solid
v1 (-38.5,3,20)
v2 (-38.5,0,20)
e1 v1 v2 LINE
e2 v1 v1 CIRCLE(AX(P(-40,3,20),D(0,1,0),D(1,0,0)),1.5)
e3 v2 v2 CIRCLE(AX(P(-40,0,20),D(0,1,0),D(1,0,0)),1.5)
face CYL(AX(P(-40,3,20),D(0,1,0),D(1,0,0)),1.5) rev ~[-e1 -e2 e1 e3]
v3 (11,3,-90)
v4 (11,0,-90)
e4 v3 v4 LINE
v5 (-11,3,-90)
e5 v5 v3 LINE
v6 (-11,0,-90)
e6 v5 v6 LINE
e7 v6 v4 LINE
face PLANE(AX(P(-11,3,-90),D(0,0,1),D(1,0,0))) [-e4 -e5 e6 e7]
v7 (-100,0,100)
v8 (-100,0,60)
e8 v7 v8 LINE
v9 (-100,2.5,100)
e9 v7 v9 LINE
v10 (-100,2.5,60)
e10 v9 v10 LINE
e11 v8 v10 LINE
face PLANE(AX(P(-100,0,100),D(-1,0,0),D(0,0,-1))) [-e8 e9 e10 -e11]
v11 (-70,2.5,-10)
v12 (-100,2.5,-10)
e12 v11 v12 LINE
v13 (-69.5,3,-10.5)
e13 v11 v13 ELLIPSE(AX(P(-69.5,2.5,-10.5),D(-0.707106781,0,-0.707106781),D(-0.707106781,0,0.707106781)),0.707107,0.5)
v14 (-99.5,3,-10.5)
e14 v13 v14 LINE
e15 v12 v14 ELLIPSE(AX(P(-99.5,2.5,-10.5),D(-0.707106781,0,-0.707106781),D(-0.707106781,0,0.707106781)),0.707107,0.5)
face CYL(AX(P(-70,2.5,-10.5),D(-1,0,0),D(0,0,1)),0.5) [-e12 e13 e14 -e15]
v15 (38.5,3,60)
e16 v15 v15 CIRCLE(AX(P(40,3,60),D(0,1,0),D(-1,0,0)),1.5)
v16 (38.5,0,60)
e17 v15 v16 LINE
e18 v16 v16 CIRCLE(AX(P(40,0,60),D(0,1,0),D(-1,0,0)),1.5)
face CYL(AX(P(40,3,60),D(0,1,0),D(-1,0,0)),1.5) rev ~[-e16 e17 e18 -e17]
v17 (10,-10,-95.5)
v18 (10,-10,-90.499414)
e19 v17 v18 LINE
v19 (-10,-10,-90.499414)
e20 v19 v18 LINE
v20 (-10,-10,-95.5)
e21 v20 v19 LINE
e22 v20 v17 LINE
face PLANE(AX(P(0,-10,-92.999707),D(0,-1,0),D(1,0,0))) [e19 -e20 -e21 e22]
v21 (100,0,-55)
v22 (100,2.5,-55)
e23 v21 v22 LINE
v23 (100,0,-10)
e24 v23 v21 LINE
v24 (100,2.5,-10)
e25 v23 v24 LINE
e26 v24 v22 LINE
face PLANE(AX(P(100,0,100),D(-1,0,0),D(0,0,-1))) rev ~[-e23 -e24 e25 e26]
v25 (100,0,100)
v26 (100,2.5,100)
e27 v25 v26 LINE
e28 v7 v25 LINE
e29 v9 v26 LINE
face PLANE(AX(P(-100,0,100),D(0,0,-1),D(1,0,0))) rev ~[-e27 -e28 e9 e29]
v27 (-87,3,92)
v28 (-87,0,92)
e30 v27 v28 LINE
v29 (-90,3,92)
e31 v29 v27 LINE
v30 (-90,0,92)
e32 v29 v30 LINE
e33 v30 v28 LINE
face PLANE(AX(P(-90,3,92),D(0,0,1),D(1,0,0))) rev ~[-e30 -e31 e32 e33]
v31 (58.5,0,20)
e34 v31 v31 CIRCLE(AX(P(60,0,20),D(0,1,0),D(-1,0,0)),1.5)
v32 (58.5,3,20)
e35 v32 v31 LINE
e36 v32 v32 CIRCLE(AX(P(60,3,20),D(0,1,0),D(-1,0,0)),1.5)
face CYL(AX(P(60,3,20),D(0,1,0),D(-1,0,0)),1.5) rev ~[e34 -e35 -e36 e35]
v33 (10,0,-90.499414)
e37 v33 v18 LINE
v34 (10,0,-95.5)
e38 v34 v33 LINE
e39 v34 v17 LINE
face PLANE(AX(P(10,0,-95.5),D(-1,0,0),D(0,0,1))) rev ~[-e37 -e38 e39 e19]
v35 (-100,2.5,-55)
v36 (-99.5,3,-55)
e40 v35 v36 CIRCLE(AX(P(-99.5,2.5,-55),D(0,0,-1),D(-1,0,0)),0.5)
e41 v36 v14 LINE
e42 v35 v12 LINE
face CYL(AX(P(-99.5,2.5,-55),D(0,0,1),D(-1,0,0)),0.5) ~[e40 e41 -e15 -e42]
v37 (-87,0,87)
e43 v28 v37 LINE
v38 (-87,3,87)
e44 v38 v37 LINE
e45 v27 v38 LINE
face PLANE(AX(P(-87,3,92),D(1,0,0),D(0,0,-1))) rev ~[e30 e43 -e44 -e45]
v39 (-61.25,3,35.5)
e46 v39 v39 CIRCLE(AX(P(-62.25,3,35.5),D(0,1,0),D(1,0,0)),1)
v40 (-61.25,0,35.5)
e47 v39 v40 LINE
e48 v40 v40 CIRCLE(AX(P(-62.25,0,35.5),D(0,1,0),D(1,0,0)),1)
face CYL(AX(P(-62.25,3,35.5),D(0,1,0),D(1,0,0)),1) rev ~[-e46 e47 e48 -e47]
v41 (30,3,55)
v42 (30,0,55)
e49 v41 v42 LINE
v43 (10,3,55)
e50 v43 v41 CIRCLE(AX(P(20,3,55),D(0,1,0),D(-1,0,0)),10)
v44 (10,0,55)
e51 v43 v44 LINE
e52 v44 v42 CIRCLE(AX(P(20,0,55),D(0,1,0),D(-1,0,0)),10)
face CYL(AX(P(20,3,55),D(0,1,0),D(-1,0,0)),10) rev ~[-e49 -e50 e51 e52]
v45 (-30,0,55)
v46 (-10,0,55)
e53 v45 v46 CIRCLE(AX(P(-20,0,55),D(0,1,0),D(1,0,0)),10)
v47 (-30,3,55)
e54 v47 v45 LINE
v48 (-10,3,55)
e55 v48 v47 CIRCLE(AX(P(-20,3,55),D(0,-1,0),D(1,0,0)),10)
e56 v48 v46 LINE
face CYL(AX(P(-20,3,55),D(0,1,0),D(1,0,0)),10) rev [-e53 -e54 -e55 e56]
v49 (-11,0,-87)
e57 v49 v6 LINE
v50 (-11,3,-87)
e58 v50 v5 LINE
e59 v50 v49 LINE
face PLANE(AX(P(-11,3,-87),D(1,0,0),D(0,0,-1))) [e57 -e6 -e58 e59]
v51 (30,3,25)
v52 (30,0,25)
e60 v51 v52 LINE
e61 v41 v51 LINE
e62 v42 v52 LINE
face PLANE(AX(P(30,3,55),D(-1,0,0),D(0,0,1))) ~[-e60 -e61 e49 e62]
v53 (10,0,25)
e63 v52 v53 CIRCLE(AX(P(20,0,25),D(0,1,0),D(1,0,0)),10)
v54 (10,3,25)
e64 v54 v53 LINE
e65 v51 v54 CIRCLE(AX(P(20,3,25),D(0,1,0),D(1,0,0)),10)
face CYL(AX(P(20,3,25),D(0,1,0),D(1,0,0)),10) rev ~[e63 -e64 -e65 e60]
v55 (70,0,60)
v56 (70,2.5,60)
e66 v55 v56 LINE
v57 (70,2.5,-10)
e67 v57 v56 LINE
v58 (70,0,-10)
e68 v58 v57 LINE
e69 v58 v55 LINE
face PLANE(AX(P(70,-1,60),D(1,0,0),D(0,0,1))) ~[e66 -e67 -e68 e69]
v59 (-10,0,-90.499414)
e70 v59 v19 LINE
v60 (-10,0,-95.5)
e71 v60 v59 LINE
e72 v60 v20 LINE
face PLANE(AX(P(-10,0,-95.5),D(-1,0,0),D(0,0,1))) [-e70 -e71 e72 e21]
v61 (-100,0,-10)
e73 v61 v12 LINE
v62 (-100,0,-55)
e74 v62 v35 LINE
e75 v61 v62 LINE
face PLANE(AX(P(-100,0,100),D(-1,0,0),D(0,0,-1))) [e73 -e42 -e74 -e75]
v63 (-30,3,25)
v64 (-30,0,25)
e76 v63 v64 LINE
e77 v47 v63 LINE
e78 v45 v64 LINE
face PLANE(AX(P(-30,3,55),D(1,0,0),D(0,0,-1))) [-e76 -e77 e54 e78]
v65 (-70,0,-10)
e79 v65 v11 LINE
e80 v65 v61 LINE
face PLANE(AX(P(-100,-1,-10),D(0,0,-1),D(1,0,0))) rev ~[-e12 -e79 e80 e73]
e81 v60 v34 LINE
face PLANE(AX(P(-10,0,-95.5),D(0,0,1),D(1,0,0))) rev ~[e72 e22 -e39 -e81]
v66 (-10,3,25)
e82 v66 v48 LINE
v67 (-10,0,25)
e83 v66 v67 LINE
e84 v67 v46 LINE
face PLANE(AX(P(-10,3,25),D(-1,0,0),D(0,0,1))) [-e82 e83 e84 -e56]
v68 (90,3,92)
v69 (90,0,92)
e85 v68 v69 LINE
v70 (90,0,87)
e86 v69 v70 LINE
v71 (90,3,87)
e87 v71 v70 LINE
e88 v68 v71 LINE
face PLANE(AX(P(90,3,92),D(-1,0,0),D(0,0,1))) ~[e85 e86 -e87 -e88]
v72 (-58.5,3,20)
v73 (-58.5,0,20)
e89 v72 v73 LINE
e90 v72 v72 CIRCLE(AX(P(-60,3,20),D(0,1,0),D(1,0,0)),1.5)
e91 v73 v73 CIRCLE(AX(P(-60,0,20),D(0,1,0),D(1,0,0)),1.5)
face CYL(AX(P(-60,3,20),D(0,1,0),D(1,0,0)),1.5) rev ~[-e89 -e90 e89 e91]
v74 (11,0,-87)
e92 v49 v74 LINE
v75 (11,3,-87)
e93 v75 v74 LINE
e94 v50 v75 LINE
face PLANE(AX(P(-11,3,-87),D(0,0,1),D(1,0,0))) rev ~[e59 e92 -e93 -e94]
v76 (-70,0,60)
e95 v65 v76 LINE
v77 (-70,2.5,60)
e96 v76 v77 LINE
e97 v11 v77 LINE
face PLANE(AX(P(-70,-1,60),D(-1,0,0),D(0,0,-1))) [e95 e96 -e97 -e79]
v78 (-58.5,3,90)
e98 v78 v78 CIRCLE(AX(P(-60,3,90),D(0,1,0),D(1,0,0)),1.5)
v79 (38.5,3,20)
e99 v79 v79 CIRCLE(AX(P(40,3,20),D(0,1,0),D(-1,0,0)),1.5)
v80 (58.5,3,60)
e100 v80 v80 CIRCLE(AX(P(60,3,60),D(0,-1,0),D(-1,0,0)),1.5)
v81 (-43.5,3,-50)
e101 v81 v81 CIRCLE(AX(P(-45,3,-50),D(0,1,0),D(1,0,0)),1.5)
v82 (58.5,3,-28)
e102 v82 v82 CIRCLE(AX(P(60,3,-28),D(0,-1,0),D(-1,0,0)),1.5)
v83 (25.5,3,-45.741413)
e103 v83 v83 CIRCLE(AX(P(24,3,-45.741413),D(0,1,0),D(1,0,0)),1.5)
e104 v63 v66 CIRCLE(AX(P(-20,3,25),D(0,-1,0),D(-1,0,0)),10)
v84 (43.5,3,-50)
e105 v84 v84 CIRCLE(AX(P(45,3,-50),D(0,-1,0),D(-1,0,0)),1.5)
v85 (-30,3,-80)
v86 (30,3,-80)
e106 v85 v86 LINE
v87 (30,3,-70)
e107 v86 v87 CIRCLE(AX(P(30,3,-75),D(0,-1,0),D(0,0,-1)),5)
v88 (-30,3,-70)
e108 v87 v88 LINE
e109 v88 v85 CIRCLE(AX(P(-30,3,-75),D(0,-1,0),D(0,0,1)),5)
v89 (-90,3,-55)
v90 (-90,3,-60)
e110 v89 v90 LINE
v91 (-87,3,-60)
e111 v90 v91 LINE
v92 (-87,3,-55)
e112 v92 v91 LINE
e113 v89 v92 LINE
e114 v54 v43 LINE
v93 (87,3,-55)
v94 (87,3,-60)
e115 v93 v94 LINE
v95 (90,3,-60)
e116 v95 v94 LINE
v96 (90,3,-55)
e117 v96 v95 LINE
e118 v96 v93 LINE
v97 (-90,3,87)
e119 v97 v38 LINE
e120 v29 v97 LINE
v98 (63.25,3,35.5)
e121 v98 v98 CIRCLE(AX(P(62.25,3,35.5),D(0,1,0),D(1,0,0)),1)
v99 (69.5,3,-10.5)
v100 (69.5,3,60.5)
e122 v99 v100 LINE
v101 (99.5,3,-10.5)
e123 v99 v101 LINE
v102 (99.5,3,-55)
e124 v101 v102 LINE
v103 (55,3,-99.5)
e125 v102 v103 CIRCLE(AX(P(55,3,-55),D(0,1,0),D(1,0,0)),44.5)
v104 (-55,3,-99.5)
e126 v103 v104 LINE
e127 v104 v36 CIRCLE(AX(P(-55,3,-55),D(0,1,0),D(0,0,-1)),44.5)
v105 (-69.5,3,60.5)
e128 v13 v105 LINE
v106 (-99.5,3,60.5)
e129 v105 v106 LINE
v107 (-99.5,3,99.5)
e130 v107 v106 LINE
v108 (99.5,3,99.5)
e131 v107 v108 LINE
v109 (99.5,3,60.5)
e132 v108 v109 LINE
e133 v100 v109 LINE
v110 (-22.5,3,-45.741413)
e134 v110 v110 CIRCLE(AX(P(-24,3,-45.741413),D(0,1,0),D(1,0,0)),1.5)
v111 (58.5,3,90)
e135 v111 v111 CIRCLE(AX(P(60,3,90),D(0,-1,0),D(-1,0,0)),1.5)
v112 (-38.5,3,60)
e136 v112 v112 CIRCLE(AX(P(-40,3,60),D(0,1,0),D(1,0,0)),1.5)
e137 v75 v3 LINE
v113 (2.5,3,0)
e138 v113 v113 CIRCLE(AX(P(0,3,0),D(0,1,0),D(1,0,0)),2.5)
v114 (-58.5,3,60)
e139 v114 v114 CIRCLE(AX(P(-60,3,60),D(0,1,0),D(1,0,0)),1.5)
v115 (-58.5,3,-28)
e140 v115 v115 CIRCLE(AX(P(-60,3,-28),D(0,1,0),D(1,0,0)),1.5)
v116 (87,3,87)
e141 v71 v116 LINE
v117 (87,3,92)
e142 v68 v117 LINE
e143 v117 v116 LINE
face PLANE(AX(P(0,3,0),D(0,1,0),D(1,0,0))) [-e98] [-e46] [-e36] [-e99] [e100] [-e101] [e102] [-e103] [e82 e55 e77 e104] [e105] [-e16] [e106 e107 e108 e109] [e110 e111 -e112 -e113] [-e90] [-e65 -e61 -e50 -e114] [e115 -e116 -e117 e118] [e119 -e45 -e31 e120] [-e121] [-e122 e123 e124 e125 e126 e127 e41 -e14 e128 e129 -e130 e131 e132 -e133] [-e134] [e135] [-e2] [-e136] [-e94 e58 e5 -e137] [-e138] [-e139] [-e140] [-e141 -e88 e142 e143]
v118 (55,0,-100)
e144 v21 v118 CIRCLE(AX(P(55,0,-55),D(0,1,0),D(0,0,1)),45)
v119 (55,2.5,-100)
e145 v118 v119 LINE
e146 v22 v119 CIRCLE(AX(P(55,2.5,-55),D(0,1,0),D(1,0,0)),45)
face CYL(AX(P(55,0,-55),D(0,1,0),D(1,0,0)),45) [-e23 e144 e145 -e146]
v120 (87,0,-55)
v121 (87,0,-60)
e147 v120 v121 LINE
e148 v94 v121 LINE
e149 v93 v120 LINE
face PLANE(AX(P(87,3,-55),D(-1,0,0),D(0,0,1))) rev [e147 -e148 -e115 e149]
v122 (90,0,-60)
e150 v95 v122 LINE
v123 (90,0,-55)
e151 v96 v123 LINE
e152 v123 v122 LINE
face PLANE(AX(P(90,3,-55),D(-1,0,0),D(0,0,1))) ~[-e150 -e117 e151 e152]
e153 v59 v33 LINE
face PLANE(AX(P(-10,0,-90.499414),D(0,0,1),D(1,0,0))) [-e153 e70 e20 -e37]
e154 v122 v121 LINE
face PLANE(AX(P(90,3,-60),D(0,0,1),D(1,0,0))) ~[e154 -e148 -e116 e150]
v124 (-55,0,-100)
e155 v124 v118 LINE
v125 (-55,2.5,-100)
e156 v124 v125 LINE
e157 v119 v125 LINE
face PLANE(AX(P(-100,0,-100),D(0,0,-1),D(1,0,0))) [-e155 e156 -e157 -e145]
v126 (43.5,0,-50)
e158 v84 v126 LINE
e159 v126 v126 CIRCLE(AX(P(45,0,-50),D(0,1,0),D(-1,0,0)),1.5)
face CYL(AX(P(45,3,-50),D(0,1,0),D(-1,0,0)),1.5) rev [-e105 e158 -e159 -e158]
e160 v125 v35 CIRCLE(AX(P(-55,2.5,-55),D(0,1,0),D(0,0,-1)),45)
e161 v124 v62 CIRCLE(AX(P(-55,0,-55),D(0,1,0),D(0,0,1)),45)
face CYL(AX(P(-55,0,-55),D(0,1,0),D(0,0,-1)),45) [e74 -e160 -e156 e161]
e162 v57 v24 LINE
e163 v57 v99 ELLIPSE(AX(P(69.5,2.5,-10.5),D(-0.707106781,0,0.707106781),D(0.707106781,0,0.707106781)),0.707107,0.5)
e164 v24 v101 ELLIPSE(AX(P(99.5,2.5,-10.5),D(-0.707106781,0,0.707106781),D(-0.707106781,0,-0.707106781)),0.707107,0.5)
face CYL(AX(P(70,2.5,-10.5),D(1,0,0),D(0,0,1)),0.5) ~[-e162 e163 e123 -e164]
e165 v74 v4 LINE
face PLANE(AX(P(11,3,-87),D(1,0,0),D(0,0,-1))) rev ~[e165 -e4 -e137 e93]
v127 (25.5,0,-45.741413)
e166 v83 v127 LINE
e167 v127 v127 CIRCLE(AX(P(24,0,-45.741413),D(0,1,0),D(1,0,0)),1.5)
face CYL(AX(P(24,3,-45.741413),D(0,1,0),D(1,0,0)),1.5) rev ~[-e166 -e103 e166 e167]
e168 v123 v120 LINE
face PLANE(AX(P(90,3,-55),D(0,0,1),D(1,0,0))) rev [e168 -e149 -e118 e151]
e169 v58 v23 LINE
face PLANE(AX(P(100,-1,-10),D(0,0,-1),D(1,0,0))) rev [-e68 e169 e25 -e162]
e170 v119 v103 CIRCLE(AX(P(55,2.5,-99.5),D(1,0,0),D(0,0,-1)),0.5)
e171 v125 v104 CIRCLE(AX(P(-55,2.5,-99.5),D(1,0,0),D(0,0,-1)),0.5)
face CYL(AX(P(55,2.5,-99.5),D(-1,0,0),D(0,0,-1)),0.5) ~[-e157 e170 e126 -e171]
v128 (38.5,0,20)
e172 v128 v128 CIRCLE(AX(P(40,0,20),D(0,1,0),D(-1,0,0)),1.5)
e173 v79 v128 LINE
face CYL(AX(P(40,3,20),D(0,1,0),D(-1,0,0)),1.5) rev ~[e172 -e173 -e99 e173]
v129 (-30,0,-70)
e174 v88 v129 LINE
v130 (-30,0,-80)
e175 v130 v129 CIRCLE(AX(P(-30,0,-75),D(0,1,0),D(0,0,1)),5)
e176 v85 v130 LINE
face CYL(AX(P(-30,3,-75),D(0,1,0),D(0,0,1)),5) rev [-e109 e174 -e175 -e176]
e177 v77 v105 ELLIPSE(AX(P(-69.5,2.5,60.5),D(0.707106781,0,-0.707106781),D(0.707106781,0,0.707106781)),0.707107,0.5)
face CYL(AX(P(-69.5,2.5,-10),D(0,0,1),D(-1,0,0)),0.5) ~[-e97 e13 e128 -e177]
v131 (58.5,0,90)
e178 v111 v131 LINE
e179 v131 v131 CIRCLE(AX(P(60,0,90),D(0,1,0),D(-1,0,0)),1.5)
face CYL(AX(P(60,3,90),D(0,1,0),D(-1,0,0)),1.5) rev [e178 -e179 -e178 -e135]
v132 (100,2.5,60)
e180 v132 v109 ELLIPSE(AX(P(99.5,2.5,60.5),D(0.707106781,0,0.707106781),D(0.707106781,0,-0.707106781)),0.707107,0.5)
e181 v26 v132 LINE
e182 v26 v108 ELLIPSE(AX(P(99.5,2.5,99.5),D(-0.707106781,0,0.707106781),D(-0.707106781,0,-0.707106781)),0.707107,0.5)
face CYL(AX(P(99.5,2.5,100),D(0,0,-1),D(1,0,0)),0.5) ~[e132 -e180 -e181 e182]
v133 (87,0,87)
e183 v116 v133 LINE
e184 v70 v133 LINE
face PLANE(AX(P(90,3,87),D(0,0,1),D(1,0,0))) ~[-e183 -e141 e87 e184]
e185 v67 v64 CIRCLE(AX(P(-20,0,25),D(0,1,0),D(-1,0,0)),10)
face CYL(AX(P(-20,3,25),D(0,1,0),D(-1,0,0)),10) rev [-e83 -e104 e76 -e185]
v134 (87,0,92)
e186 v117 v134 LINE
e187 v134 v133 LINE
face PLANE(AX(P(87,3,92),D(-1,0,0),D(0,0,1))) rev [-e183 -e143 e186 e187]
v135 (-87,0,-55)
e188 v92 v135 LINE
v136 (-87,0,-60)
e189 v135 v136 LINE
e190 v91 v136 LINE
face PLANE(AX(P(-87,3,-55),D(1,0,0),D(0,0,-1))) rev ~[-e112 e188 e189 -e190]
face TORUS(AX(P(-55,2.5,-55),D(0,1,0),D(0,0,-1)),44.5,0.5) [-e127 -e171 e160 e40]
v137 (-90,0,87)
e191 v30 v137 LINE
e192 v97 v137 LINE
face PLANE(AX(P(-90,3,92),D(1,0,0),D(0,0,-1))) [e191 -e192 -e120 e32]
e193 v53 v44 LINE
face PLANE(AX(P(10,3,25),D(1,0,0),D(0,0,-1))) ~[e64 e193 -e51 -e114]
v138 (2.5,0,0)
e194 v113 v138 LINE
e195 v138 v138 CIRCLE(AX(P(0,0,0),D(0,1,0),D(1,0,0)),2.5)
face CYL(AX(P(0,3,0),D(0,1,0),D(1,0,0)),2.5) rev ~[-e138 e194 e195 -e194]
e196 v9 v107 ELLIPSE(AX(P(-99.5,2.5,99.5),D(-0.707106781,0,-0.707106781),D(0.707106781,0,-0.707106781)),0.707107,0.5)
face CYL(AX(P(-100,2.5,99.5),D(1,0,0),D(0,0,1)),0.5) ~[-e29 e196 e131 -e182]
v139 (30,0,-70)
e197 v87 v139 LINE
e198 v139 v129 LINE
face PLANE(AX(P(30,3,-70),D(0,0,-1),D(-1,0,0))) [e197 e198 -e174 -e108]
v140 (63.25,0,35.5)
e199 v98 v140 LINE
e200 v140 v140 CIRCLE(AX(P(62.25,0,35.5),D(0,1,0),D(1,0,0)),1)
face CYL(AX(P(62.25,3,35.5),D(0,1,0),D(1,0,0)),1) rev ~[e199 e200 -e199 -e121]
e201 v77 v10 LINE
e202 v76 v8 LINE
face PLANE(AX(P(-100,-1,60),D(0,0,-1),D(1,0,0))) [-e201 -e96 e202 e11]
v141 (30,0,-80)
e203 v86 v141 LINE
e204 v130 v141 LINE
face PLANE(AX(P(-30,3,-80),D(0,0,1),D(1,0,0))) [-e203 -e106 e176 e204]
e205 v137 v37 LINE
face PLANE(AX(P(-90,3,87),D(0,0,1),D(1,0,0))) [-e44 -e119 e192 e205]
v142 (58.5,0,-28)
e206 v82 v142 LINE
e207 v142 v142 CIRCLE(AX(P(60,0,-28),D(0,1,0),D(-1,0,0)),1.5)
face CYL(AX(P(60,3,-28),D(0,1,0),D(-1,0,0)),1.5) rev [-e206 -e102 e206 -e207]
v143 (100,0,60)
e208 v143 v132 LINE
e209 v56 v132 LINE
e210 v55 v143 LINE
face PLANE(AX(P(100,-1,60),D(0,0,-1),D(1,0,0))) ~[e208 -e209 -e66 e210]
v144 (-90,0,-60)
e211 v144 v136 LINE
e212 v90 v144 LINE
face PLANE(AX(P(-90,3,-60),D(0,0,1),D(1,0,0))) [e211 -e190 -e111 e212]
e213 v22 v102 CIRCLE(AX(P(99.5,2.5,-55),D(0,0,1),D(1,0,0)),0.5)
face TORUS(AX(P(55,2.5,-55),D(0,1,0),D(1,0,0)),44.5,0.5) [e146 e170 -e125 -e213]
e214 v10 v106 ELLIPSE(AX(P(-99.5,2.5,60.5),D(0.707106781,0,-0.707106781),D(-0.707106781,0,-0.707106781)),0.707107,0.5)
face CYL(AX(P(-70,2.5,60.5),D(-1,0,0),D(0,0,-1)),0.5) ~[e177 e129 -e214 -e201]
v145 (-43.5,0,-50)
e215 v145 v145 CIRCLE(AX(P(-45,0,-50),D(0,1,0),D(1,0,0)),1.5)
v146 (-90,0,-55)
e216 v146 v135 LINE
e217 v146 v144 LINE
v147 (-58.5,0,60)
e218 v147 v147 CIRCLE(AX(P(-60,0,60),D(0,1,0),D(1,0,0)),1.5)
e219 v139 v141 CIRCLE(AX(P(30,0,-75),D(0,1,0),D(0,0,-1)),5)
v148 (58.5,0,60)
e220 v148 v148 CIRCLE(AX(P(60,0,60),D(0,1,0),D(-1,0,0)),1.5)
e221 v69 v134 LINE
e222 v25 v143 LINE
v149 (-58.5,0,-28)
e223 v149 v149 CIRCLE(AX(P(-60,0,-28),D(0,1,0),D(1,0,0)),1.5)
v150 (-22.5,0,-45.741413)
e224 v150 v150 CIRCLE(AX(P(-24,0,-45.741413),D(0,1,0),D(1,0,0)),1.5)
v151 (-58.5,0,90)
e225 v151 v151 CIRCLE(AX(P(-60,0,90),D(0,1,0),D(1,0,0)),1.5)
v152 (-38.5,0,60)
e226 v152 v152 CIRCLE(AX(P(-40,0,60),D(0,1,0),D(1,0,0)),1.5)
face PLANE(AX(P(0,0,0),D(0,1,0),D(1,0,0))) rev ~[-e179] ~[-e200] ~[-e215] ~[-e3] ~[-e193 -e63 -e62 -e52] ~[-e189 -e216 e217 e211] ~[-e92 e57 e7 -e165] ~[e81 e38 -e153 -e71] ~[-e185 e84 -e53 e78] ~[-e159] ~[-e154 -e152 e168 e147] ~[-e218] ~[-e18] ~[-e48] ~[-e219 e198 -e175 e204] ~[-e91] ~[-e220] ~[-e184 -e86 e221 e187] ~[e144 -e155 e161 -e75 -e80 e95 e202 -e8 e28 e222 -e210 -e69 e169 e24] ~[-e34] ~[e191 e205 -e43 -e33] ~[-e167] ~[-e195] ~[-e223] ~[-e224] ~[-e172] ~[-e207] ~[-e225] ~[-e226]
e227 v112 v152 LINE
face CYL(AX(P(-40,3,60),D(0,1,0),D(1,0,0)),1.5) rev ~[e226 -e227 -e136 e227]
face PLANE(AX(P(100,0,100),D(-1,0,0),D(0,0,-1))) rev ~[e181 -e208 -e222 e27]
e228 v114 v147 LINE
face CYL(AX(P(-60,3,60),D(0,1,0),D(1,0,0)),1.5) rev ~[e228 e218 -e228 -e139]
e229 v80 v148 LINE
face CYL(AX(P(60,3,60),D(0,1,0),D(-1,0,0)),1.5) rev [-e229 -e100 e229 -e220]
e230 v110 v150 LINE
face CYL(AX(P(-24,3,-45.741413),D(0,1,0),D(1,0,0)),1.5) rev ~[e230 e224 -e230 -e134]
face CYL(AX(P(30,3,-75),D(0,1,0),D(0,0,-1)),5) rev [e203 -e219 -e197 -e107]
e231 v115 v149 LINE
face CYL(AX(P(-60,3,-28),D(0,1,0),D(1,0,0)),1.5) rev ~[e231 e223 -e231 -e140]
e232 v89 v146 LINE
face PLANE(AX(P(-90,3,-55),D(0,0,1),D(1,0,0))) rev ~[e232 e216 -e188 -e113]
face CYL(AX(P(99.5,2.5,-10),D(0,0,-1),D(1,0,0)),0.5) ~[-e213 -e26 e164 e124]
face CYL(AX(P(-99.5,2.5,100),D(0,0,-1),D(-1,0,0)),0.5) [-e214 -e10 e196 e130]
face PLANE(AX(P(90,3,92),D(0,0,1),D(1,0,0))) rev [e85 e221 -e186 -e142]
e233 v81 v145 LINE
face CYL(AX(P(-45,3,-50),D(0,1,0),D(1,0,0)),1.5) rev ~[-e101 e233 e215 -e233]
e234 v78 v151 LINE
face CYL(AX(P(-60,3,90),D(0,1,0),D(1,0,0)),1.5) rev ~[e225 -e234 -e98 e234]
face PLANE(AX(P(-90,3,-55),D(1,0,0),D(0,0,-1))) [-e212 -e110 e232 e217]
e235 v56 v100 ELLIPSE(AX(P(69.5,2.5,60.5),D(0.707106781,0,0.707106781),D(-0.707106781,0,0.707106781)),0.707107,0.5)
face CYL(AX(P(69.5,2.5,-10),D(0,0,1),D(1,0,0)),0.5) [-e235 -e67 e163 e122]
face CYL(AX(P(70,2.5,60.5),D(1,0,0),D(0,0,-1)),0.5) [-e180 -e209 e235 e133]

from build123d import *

# Parameters (mm, degrees)
SKETCH1_W               = 200
SKETCH1_H               = 200
BOSS_EXTRUDE1_DEPTH     = 3
CUT_EXTRUDE1_START      = -4
SKETCH2_W               = 30
SKETCH2_H               = 70
CUT_EXTRUDE1_DEPTH      = 14
SKETCH4_W               = 3
SKETCH4_H               = 5
CUT_EXTRUDE2_DEPTH      = 4
SKETCH5_W               = 3
SKETCH5_H               = 5
CUT_EXTRUDE3_DEPTH      = 4
CUT_EXTRUDE4_DEPTH      = 4
FILLET1_R               = 45
SKETCH9_R               = 1.5
SKETCH9_W               = 22
SKETCH9_H               = 3
CUT_EXTRUDE7_DEPTH      = 4
SKETCH11_R              = 1.5
CUT_EXTRUDE8_DEPTH      = 4
SKETCH10_R              = 1.5
CUT_EXTRUDE9_DEPTH      = 4
LPATTERN1_COUNT         = 2
LPATTERN1_PITCH         = 40
LPATTERN1_COUNT_DIR2    = 2
LPATTERN1_PITCH_DIR2    = 20
SKETCH13_R              = 1.5
CUT_EXTRUDE10_DEPTH     = 4
MIRROR1_COPY_1_SKETCH_R = 1.5
MIRROR1_COPY_1_DEPTH    = 4
MIRROR1_COPY_2_SKETCH_R = 1.5
MIRROR1_COPY_2_DEPTH    = 4
MIRROR1_COPY_3_SKETCH_R = 1.5
MIRROR1_COPY_3_DEPTH    = 4
FILLET2_R               = 0.5
SKETCH23_W              = 20
SKETCH23_H              = 5.000586006
BOSS_EXTRUDE7_DEPTH     = 10
SKETCH26_R              = 1.5
CUT_EXTRUDE11_DEPTH     = 10
SKETCH27_R              = 2.5
CUT_EXTRUDE12_DEPTH     = 10
SKETCH28_R              = 1
CUT_EXTRUDE13_DEPTH     = 10


with BuildPart() as part:
    # Sketch1 → Boss-Extrude1 (new body)
    with BuildSketch(Plane(origin=(0, 0, 0), x_dir=(1, 0, 0), z_dir=(0, 1, 0))):
        Rectangle(SKETCH1_W, SKETCH1_H)
    extrude(amount=BOSS_EXTRUDE1_DEPTH)

    # Sketch2 → Cut-Extrude1 (cut)
    with BuildSketch(Plane(origin=(0, 3, 0), x_dir=(1, 0, 0), z_dir=(0, 1, 0)).offset(CUT_EXTRUDE1_START)):
        with Locations((-85, -25)):
            Rectangle(SKETCH2_W, SKETCH2_H)
    cut_extrude1 = extrude(amount=CUT_EXTRUDE1_DEPTH, mode=Mode.SUBTRACT)

    # Sketch4 → Cut-Extrude2 (cut, through all)
    with BuildSketch(Plane(origin=(0, 3, 0), x_dir=(1, 0, 0), z_dir=(0, 1, 0))):
        with Locations((-88.5, -89.5)):
            Rectangle(SKETCH4_W, SKETCH4_H)
    cut_extrude2 = extrude(amount=-CUT_EXTRUDE2_DEPTH, mode=Mode.SUBTRACT)

    # Sketch5 → Cut-Extrude3 (cut, through all)
    with BuildSketch(Plane(origin=(0, 3, 0), x_dir=(1, 0, 0), z_dir=(0, 1, 0))):
        with Locations((-88.5, 57.5)):
            Rectangle(SKETCH5_W, SKETCH5_H)
    cut_extrude3 = extrude(amount=-CUT_EXTRUDE3_DEPTH, mode=Mode.SUBTRACT)

    # Sketch7 → Cut-Extrude4 (cut, through all)
    with BuildSketch(Plane(origin=(0, 3, 0), x_dir=(1, 0, 0), z_dir=(0, 1, 0))):
        with BuildLine():
            Line((-30, -55), (-30, -25))
            ThreePointArc((-30, -25), (-20, -15), (-10, -25))
            Line((-10, -25), (-10, -55))
            ThreePointArc((-10, -55), (-20, -65), (-30, -55))
        make_face()
    cut_extrude4 = extrude(amount=-CUT_EXTRUDE4_DEPTH, mode=Mode.SUBTRACT)

    # Fillet1
    fillet1_edges = [part.edges().sort_by_distance(p)[0] for p in [
        (-100, 1.5, -100),
        (100, 1.5, -100),
    ]]
    fillet(fillet1_edges, radius=FILLET1_R)

    # Sketch9 → Cut-Extrude7 (cut, through all)
    with BuildSketch(Plane(origin=(0, 3, 0), x_dir=(1, 0, 0), z_dir=(0, 1, 0))):
        with Locations((-60, -90)):
            Circle(SKETCH9_R)
        with BuildLine():
            Line((-30, 80), (30, 80))
            ThreePointArc((30, 80), (35, 75), (30, 70))
            Line((30, 70), (-30, 70))
            ThreePointArc((-30, 70), (-35, 75), (-30, 80))
        make_face()
        with Locations((0, 88.5)):
            Rectangle(SKETCH9_W, SKETCH9_H)
    cut_extrude7 = extrude(amount=-CUT_EXTRUDE7_DEPTH, mode=Mode.SUBTRACT)

    # Sketch11 → Cut-Extrude8 (cut, through all)
    with BuildSketch(Plane(origin=(0, 3, 0), x_dir=(1, 0, 0), z_dir=(0, 1, 0))):
        with Locations((-45, 50)):
            Circle(SKETCH11_R)
    cut_extrude8 = extrude(amount=-CUT_EXTRUDE8_DEPTH, mode=Mode.SUBTRACT)

    # Sketch10 → Cut-Extrude9 (cut, through all)
    with BuildSketch(Plane(origin=(0, 3, 0), x_dir=(1, 0, 0), z_dir=(0, 1, 0))):
        with Locations((-60, -60)):
            Circle(SKETCH10_R)
    cut_extrude9 = extrude(amount=-CUT_EXTRUDE9_DEPTH, mode=Mode.SUBTRACT)

    # LPattern1: Cut-Extrude9 2 × 2
    with Locations(*[(j * LPATTERN1_PITCH_DIR2, 0, -i * LPATTERN1_PITCH) for i in range(LPATTERN1_COUNT) for j in range(LPATTERN1_COUNT_DIR2) if (i, j) != (0, 0)]):
        add(cut_extrude9, mode=Mode.SUBTRACT)

    # Sketch13 → Cut-Extrude10 (cut, through all)
    with BuildSketch(Plane(origin=(0, 3, 0), x_dir=(1, 0, 0), z_dir=(0, 1, 0))):
        with Locations((-60, 28)):
            Circle(SKETCH13_R)
    cut_extrude10 = extrude(amount=-CUT_EXTRUDE10_DEPTH, mode=Mode.SUBTRACT)

    # Mirror1: Cut-Extrude7, Cut-Extrude10, Cut-Extrude9, Cut-Extrude8, Cut-Extrude4, Cut-Extrude3, Cut-Extrude2, Cut-Extrude1 across plane
    add(cut_extrude7.mirror(Plane(origin=(0, 0, 0), x_dir=(0, 0, 1), z_dir=(1, 0, 0))), mode=Mode.SUBTRACT)
    add(cut_extrude10.mirror(Plane(origin=(0, 0, 0), x_dir=(0, 0, 1), z_dir=(1, 0, 0))), mode=Mode.SUBTRACT)
    add(cut_extrude9.mirror(Plane(origin=(0, 0, 0), x_dir=(0, 0, 1), z_dir=(1, 0, 0))), mode=Mode.SUBTRACT)
    add(cut_extrude8.mirror(Plane(origin=(0, 0, 0), x_dir=(0, 0, 1), z_dir=(1, 0, 0))), mode=Mode.SUBTRACT)
    add(cut_extrude4.mirror(Plane(origin=(0, 0, 0), x_dir=(0, 0, 1), z_dir=(1, 0, 0))), mode=Mode.SUBTRACT)
    add(cut_extrude3.mirror(Plane(origin=(0, 0, 0), x_dir=(0, 0, 1), z_dir=(1, 0, 0))), mode=Mode.SUBTRACT)
    add(cut_extrude2.mirror(Plane(origin=(0, 0, 0), x_dir=(0, 0, 1), z_dir=(1, 0, 0))), mode=Mode.SUBTRACT)
    add(cut_extrude1.mirror(Plane(origin=(0, 0, 0), x_dir=(0, 0, 1), z_dir=(1, 0, 0))), mode=Mode.SUBTRACT)

    # Mirror1 copy 1 sketch → Mirror1 copy 1 (cut, through all)
    with BuildSketch(Plane(origin=(-20, 3, 0), x_dir=(-1, 0, 0), z_dir=(0, 1, 0))):
        with Locations((-60, 60)):
            Circle(MIRROR1_COPY_1_SKETCH_R)
    extrude(amount=-MIRROR1_COPY_1_DEPTH, mode=Mode.SUBTRACT)

    # Mirror1 copy 2 sketch → Mirror1 copy 2 (cut, through all)
    with BuildSketch(Plane(origin=(0, 3, -40), x_dir=(-1, 0, 0), z_dir=(0, 1, 0))):
        with Locations((-60, 60)):
            Circle(MIRROR1_COPY_2_SKETCH_R)
    extrude(amount=-MIRROR1_COPY_2_DEPTH, mode=Mode.SUBTRACT)

    # Mirror1 copy 3 sketch → Mirror1 copy 3 (cut, through all)
    with BuildSketch(Plane(origin=(-20, 3, -40), x_dir=(-1, 0, 0), z_dir=(0, 1, 0))):
        with Locations((-60, 60)):
            Circle(MIRROR1_COPY_3_SKETCH_R)
    extrude(amount=-MIRROR1_COPY_3_DEPTH, mode=Mode.SUBTRACT)

    # Fillet2
    fillet2_edges = [part.edges().sort_by_distance(p)[0] for p in [
        (100, 3, 80),
        (100, 3, -32.5),
        (-100, 3, 80),
        (70, 3, 25),
        (85, 3, 60),
        (85, 3, -10),
        (-70, 3, 25),
        (-85, 3, -10),
        (-85, 3, 60),
        (0, 3, 100),
        (0, 3, -100),
        (-100, 3, -32.5),
        (-86.819805153, 3, -86.819805153),
        (86.819805153, 3, -86.819805153),
    ]]
    fillet(fillet2_edges, radius=FILLET2_R)

    # Sketch23 → Boss-Extrude7 (add)
    with BuildSketch(Plane.XZ):
        with Locations((0, -92.999706997)):
            Rectangle(SKETCH23_W, SKETCH23_H)
    extrude(amount=BOSS_EXTRUDE7_DEPTH)

    # Sketch26 → Cut-Extrude11 (cut)
    with BuildSketch(Plane(origin=(0, 3, 0), x_dir=(1, 0, 0), z_dir=(0, 1, 0))):
        with Locations((24, 45.74141283)):
            Circle(SKETCH26_R)
        with Locations((-24, 45.74141283)):
            Circle(SKETCH26_R)
    extrude(amount=-CUT_EXTRUDE11_DEPTH, mode=Mode.SUBTRACT)

    # Sketch27 → Cut-Extrude12 (cut)
    with BuildSketch(Plane(origin=(0, 3, 0), x_dir=(1, 0, 0), z_dir=(0, 1, 0))):
        Circle(SKETCH27_R)
    extrude(amount=-CUT_EXTRUDE12_DEPTH, mode=Mode.SUBTRACT)

    # Sketch28 → Cut-Extrude13 (cut)
    with BuildSketch(Plane(origin=(0, 3, 0), x_dir=(1, 0, 0), z_dir=(0, 1, 0))):
        with Locations((-62.25, -35.5)):
            Circle(SKETCH28_R)
        with Locations((62.25, -35.5)):
            Circle(SKETCH28_R)
    extrude(amount=-CUT_EXTRUDE13_DEPTH, mode=Mode.SUBTRACT)


solid = part.part
